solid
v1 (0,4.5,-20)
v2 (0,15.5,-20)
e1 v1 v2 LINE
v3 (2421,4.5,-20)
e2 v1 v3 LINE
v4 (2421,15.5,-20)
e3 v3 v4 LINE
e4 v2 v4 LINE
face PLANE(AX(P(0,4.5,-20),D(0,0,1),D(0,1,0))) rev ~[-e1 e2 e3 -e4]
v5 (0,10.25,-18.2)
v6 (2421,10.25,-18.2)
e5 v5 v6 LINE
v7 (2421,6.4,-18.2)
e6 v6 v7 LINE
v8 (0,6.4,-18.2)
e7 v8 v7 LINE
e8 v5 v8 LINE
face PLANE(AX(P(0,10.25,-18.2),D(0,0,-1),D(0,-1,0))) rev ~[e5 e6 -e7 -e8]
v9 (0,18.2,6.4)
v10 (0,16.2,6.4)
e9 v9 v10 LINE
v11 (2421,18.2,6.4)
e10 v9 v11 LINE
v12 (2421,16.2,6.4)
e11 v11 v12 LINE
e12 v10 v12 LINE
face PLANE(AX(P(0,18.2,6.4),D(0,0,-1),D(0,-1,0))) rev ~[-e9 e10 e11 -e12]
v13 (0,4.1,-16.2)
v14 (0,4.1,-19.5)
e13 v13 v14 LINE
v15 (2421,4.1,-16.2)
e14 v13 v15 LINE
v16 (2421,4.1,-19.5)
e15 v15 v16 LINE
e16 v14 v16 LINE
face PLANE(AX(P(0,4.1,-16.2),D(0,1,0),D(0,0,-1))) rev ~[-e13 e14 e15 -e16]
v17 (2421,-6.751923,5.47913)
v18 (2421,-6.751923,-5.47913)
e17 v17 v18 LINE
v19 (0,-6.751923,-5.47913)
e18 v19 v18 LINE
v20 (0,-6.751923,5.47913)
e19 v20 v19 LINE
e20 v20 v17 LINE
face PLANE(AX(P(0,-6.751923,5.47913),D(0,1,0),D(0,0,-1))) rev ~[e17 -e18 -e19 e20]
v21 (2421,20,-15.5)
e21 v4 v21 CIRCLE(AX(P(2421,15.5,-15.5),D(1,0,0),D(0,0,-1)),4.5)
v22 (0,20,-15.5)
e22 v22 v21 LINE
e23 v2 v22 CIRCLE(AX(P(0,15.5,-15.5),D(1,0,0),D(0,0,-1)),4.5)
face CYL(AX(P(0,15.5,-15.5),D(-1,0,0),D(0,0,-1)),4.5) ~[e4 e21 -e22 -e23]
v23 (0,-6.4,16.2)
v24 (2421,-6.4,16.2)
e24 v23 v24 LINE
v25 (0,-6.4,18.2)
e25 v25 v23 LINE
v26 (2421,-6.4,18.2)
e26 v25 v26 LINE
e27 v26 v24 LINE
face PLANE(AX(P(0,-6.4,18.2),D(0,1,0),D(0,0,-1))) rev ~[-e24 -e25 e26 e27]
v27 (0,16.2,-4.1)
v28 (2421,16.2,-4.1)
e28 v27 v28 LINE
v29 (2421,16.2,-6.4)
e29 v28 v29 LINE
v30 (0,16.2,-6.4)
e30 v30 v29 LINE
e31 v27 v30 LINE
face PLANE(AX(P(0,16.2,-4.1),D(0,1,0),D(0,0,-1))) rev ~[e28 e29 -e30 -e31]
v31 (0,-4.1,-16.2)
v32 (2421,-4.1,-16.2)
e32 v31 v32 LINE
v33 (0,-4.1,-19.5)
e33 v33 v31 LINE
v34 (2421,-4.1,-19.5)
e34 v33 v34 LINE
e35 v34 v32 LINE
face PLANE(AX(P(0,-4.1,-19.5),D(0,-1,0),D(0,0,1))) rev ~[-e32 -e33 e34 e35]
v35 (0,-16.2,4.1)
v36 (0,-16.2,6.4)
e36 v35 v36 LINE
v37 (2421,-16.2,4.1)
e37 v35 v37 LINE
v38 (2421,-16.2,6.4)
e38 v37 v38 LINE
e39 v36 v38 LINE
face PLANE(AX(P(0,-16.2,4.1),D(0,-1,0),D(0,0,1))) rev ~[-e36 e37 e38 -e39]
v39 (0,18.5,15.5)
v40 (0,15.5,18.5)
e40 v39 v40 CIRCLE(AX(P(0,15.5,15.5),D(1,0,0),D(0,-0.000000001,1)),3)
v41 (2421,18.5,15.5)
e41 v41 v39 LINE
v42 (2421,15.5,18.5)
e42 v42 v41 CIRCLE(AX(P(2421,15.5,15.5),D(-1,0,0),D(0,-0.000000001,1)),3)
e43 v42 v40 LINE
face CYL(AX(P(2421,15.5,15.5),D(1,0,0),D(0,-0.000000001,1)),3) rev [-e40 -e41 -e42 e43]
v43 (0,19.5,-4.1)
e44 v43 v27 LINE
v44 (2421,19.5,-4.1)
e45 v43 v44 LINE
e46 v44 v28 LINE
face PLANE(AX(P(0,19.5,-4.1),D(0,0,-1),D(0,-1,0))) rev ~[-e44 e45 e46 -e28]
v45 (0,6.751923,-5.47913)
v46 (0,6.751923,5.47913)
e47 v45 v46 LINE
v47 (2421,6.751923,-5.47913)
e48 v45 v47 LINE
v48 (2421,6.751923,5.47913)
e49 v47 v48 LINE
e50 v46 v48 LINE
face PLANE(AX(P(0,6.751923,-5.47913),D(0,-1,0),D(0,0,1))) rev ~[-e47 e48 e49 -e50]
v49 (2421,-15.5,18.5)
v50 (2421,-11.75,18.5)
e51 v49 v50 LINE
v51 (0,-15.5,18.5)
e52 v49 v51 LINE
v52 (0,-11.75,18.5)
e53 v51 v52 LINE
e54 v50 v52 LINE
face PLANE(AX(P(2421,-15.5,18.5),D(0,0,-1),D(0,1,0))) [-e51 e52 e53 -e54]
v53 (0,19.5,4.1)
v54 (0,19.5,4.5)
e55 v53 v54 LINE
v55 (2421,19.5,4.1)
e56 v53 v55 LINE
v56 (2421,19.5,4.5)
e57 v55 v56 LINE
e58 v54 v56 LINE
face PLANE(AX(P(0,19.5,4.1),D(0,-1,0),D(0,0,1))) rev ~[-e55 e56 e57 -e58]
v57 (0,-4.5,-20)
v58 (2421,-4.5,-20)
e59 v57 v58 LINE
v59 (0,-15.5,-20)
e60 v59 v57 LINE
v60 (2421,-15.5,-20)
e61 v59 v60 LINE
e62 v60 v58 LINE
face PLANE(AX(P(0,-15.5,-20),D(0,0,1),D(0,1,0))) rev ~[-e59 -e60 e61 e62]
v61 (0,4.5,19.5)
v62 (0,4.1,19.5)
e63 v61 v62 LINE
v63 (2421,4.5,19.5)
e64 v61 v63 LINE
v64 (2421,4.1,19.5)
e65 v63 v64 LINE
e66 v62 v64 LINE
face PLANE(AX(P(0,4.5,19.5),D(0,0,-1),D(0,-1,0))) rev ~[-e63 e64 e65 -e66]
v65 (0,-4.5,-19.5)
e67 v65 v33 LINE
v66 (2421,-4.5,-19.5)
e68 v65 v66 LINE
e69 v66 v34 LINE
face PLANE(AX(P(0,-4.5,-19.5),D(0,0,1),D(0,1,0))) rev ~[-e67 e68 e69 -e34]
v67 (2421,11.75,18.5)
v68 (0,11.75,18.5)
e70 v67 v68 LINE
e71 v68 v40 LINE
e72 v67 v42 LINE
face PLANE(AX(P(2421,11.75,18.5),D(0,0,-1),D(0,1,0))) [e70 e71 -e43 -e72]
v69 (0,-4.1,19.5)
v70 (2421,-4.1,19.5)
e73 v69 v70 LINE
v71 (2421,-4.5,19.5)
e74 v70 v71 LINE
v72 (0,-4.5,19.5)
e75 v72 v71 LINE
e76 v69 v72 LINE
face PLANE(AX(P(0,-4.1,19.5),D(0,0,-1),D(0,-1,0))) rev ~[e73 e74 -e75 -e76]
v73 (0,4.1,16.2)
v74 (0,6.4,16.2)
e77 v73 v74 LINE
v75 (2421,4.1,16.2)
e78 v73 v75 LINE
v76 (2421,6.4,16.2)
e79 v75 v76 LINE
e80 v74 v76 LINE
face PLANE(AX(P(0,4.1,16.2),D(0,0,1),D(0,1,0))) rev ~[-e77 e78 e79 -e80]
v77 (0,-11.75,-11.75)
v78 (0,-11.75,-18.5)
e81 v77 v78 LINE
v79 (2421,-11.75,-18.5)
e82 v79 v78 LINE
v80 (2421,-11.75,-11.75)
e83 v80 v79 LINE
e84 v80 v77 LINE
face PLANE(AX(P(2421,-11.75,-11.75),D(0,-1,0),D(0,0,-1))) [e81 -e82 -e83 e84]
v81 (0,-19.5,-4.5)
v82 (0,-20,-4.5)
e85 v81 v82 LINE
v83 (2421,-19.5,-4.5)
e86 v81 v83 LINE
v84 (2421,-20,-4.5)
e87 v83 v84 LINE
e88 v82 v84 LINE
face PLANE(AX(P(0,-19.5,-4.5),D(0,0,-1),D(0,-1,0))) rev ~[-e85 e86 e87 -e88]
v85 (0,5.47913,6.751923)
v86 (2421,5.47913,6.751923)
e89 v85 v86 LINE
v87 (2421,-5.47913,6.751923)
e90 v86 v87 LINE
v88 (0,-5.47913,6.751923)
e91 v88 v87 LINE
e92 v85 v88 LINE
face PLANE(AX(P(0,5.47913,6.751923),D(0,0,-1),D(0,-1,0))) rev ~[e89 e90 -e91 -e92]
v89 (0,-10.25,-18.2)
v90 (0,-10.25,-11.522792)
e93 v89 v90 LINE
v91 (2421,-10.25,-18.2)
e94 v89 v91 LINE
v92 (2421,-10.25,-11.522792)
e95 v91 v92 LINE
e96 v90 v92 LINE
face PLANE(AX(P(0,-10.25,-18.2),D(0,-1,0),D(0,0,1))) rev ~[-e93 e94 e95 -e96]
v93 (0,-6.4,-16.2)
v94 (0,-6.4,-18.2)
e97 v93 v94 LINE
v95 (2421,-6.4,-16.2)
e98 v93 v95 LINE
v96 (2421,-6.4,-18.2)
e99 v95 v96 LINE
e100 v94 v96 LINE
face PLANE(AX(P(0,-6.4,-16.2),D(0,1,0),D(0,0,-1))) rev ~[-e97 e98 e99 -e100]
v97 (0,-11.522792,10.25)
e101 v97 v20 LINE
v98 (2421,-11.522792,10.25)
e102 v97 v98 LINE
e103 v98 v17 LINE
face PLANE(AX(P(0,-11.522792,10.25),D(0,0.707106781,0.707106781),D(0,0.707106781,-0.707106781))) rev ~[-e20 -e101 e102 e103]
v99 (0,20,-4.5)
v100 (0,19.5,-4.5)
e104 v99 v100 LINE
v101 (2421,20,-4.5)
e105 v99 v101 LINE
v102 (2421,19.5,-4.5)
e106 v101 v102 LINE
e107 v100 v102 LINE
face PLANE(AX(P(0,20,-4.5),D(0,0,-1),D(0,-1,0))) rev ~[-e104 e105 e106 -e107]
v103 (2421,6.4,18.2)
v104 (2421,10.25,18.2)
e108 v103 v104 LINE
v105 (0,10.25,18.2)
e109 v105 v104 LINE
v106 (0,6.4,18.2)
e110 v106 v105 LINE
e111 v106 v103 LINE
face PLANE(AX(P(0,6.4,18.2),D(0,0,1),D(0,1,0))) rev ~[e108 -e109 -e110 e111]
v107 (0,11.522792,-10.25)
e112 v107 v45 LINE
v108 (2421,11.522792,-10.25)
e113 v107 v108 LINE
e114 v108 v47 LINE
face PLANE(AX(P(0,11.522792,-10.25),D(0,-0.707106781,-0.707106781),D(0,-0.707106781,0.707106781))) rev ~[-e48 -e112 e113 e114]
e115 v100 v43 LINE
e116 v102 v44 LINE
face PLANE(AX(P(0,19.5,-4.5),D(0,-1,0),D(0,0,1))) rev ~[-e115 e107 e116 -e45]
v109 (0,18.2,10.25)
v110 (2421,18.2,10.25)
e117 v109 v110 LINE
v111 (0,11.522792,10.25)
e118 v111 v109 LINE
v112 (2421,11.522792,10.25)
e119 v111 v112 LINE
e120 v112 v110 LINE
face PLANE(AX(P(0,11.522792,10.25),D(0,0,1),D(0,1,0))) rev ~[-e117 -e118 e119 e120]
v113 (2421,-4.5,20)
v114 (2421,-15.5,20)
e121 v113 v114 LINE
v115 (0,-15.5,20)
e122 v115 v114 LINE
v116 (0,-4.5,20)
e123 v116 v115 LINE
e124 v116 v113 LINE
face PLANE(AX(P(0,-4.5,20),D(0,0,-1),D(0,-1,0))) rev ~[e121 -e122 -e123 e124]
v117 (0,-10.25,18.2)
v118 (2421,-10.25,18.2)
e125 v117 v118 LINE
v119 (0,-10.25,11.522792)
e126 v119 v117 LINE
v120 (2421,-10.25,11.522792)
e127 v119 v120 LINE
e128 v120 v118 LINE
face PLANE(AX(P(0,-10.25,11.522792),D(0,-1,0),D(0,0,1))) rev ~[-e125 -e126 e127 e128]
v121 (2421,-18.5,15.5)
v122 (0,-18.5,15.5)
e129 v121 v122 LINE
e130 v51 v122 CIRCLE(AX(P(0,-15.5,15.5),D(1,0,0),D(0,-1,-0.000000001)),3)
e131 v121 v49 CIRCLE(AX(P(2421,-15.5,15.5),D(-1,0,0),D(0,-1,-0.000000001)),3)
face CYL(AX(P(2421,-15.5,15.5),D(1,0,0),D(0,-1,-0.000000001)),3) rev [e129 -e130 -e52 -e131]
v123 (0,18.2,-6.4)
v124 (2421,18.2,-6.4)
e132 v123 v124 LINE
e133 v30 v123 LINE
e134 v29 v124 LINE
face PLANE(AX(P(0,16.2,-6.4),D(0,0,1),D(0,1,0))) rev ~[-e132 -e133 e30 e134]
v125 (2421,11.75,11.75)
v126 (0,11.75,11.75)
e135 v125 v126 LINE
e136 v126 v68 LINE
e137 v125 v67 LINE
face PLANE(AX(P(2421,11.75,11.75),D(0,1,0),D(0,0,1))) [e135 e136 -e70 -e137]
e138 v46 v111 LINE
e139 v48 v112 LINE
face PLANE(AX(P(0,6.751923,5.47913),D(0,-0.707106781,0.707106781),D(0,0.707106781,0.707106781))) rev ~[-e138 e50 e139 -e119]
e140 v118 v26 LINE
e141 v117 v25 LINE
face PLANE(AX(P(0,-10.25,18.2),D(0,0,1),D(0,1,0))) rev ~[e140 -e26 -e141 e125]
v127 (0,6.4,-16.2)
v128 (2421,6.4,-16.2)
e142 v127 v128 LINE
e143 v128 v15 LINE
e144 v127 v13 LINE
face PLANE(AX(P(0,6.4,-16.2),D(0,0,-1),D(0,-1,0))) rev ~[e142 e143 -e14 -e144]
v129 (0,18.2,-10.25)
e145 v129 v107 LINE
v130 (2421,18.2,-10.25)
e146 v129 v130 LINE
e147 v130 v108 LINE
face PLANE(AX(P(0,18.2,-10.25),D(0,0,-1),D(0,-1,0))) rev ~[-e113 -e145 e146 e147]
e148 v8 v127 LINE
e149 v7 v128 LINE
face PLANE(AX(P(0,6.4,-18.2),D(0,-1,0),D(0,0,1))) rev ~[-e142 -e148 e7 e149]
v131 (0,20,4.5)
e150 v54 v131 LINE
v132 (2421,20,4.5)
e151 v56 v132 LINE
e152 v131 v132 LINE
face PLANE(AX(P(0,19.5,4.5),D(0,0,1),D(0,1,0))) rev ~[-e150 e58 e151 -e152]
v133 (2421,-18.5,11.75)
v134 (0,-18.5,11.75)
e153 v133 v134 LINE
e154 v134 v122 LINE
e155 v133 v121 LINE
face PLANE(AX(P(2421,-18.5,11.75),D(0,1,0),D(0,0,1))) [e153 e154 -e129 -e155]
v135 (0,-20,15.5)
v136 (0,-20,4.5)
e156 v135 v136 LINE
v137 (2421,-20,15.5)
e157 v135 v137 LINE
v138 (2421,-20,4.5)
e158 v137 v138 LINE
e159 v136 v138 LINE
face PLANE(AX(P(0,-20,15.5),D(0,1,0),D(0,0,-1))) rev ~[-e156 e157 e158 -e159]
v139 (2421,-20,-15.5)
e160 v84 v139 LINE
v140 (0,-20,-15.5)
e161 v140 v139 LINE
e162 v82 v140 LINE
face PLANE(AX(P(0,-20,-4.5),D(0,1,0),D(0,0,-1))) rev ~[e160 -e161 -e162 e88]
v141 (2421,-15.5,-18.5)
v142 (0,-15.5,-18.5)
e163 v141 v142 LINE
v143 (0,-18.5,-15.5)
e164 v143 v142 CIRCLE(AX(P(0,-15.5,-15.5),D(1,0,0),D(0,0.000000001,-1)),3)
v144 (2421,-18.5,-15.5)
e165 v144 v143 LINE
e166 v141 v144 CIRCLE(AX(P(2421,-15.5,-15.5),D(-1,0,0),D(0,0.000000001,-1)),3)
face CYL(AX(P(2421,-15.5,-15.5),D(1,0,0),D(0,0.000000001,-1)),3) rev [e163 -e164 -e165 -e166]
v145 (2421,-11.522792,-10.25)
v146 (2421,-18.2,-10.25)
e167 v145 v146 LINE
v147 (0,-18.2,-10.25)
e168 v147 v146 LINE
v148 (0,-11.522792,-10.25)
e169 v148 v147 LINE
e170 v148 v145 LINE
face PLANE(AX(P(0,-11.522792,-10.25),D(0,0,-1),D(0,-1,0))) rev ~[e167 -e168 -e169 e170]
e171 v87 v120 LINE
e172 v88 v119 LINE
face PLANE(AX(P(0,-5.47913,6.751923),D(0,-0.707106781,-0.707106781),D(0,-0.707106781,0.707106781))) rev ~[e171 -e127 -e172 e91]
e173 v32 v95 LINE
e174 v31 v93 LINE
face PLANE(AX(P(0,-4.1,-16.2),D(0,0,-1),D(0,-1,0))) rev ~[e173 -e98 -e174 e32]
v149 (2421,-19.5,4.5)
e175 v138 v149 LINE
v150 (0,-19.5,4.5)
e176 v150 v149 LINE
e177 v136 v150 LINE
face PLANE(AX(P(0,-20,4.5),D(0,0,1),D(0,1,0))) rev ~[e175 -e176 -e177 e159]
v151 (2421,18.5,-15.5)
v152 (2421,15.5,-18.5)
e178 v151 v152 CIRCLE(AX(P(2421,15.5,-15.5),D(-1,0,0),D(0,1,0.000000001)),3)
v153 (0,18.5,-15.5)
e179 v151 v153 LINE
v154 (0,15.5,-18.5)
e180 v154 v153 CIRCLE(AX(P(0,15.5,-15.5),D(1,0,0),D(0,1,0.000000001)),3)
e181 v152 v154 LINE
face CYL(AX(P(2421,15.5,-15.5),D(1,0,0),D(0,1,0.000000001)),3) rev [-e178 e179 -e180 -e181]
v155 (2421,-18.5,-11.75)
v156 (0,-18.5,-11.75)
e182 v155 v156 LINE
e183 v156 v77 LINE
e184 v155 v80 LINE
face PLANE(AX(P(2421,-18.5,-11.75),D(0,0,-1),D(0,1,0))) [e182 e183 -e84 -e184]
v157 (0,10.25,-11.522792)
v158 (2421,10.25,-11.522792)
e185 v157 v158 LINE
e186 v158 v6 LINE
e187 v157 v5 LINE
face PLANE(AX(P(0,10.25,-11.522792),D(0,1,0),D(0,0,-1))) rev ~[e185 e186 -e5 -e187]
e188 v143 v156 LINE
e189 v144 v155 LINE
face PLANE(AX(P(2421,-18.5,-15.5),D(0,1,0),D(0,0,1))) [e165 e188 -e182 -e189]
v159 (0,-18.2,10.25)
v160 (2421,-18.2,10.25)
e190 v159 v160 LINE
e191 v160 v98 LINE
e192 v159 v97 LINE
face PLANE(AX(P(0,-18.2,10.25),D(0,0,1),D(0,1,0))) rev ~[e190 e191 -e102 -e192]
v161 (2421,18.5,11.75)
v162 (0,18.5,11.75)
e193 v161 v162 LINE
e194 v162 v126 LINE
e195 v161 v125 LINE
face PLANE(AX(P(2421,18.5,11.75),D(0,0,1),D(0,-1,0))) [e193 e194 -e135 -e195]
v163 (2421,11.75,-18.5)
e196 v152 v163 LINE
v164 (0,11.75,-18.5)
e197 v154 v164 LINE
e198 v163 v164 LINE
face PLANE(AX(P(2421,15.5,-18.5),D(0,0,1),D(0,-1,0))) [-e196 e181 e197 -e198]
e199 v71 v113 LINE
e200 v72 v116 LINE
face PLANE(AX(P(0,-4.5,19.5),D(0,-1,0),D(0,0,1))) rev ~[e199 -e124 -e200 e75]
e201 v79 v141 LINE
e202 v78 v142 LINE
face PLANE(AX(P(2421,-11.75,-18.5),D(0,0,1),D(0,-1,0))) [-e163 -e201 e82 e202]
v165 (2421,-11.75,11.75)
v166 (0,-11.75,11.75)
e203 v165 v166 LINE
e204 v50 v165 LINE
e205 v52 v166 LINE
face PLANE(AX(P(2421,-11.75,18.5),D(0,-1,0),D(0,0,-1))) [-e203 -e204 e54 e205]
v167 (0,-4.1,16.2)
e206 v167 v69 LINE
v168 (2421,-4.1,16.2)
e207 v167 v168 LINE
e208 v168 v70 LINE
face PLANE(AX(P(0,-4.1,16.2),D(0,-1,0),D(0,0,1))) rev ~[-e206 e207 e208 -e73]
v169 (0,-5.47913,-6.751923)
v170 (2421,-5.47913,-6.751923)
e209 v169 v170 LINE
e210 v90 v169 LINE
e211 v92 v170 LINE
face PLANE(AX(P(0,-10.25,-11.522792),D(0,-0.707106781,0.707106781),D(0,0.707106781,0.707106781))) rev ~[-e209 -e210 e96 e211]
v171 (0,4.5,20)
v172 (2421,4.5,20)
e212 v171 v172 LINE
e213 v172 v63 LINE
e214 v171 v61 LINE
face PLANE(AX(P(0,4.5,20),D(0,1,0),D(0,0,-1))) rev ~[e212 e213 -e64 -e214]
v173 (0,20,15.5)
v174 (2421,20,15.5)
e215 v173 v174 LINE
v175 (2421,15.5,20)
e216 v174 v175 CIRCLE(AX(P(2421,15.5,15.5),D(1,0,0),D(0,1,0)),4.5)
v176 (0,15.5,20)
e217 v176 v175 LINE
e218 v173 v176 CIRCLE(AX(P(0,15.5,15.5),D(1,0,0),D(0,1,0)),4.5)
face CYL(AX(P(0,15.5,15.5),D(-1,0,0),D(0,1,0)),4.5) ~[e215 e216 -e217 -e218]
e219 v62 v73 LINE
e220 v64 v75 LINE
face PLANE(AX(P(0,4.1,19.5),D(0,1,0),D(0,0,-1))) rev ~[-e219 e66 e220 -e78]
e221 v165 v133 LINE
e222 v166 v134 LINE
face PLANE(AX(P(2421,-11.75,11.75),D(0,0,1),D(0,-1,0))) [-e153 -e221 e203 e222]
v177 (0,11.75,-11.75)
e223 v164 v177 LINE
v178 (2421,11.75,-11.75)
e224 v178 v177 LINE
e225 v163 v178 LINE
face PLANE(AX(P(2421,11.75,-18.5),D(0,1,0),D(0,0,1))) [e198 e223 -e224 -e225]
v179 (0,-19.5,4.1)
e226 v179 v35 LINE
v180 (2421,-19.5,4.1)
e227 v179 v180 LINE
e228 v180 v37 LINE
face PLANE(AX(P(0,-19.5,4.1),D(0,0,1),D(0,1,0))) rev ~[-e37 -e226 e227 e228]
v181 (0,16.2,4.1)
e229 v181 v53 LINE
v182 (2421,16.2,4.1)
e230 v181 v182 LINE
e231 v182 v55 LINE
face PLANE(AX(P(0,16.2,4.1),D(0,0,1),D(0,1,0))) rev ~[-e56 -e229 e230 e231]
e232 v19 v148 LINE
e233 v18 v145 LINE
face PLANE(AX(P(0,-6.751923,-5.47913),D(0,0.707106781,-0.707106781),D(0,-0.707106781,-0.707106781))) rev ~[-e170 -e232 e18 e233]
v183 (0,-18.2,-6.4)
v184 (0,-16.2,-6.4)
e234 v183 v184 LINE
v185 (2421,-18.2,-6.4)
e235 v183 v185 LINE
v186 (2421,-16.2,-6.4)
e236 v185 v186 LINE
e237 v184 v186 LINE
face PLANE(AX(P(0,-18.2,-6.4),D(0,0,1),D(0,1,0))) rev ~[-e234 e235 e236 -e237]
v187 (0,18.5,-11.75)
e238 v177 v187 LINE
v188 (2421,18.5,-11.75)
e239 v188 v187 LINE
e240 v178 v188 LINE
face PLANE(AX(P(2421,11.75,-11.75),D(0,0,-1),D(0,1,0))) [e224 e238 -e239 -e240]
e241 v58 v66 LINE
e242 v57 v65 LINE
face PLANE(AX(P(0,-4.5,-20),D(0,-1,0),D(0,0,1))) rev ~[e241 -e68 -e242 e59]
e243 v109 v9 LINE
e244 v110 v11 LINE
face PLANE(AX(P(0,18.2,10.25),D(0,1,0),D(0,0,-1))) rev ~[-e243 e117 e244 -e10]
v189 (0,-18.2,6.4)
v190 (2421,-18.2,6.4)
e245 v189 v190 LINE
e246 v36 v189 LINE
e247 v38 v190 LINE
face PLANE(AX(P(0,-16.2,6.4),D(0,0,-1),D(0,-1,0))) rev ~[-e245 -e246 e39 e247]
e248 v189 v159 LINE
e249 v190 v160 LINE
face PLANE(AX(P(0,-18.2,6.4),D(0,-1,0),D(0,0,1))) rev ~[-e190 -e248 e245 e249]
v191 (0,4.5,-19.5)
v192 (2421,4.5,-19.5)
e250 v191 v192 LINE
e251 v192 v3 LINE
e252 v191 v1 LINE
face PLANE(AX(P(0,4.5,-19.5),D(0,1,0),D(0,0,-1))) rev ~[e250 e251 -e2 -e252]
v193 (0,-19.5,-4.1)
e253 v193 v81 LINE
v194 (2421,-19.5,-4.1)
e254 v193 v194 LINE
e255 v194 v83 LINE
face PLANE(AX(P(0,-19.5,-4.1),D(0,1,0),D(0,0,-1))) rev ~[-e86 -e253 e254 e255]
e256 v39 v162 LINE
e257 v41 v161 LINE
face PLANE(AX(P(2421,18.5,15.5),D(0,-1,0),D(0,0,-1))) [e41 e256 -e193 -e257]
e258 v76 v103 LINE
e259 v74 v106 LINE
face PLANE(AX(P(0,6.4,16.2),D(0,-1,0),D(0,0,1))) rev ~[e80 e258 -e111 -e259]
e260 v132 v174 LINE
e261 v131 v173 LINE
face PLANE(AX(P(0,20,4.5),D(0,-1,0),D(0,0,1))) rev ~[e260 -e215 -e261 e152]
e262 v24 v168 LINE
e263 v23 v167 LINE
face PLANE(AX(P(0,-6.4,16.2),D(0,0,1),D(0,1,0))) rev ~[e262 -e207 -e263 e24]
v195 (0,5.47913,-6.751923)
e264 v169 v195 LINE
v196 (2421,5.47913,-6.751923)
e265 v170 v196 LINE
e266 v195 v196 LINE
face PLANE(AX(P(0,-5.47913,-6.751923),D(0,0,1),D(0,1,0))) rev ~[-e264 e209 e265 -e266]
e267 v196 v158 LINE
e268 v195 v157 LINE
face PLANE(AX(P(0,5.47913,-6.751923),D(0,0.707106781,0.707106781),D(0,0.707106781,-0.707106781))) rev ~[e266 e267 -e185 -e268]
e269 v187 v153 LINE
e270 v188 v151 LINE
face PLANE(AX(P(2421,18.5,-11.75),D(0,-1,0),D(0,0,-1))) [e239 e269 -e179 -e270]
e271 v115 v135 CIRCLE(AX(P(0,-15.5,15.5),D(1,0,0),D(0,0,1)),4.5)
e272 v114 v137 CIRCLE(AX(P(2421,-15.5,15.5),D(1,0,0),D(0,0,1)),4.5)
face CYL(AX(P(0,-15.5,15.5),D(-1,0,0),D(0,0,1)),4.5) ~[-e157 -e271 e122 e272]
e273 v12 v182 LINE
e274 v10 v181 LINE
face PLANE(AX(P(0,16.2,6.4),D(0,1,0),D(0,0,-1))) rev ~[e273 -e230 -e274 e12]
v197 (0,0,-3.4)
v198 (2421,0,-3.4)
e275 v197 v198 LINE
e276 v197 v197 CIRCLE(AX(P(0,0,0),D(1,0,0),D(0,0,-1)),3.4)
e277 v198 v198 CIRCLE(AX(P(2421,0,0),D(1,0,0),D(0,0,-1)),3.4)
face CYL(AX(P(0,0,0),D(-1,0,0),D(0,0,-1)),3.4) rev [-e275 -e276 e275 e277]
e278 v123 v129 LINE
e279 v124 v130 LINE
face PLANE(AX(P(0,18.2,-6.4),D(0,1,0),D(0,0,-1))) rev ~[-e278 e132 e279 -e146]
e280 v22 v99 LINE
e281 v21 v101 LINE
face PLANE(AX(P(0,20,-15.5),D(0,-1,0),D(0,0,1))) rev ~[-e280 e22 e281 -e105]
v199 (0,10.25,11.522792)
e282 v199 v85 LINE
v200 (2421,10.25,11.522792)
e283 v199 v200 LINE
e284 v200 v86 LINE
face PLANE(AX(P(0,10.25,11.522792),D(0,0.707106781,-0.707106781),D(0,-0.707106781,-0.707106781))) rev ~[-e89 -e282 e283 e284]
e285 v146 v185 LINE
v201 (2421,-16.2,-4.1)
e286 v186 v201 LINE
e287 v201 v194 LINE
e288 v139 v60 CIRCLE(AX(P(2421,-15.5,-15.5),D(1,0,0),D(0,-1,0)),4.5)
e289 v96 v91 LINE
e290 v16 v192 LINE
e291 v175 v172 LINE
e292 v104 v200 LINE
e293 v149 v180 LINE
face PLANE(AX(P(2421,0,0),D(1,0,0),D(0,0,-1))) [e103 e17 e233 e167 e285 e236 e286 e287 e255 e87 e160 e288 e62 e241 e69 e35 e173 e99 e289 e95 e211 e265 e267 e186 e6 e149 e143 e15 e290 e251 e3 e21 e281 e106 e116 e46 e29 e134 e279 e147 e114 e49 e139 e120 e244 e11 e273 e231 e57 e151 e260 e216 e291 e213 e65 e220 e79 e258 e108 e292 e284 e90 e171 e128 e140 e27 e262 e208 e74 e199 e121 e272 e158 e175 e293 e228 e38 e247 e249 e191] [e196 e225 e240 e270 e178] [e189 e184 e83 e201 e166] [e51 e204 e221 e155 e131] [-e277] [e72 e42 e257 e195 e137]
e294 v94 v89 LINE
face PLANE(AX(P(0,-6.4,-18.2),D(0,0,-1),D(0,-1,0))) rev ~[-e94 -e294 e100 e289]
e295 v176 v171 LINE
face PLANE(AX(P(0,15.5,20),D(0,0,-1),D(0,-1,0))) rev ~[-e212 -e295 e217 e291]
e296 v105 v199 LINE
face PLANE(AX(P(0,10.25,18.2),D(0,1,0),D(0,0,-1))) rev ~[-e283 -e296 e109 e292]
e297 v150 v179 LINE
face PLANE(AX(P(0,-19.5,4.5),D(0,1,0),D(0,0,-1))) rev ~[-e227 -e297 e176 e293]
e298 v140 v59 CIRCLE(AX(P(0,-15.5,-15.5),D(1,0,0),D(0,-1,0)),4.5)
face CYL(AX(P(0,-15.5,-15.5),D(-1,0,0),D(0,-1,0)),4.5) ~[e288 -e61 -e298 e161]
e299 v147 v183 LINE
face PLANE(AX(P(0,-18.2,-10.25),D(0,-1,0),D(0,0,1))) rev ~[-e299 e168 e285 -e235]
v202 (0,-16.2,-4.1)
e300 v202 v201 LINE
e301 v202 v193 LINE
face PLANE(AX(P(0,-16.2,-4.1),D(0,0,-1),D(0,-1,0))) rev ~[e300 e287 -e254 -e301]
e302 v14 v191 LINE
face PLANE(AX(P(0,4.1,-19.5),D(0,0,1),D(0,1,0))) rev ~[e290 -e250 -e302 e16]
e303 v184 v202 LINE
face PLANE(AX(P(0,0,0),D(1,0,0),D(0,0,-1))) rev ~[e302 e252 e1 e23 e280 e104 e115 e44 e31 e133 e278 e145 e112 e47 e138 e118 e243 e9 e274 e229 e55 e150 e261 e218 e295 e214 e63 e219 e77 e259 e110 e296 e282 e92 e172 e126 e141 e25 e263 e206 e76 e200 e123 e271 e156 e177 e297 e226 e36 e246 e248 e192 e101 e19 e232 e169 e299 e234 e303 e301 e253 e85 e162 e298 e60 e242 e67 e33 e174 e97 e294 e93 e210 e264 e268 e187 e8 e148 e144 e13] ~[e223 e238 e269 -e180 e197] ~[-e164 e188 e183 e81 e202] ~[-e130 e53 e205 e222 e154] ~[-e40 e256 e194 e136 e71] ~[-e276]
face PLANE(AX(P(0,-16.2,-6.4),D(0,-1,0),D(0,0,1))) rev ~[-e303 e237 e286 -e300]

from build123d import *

# Parameters (mm, degrees)
SKETCH_3_R          = 3.4
EXTRUDE_1_DEPTH     = 2421
CUT_EXTRUDE_3_DEPTH = 3297


with BuildPart() as part:
    # 草图3 → 凸台-拉伸1 (new body)
    with BuildSketch(Plane(origin=(0, 0, 0), x_dir=(0, 0, -1), z_dir=(1, 0, 0))):
        with BuildLine():
            Line((-15.5, -20), (-4.5, -20))
            Line((-4.5, -20), (-4.5, -19.5))
            Line((-4.5, -19.5), (-4.1, -19.5))
            Line((-4.1, -19.5), (-4.1, -16.2))
            Line((-4.1, -16.2), (-6.4, -16.2))
            Line((-6.4, -16.2), (-6.4, -18.2))
            Line((-6.4, -18.2), (-10.25, -18.2))
            Line((-10.25, -18.2), (-10.25, -11.522792206))
            Line((-10.25, -11.522792206), (-5.479130441, -6.751922647))
            Line((-5.479130441, -6.751922647), (5.479130441, -6.751922647))
            Line((5.479130441, -6.751922647), (10.25, -11.522792206))
            Line((10.25, -11.522792206), (10.25, -18.2))
            Line((10.25, -18.2), (6.4, -18.2))
            Line((6.4, -18.2), (6.4, -16.2))
            Line((6.4, -16.2), (4.1, -16.2))
            Line((4.1, -16.2), (4.1, -19.5))
            Line((4.1, -19.5), (4.5, -19.5))
            Line((4.5, -19.5), (4.5, -20))
            Line((4.5, -20), (15.5, -20))
            ThreePointArc((15.5, -20), (18.681980515, -18.681980515), (20, -15.5))
            Line((20, -15.5), (20, -4.5))
            Line((20, -4.5), (19.5, -4.5))
            Line((19.5, -4.5), (19.5, -4.1))
            Line((19.5, -4.1), (16.2, -4.1))
            Line((16.2, -4.1), (16.2, -6.4))
            Line((16.2, -6.4), (18.2, -6.4))
            Line((18.2, -6.4), (18.2, -10.25))
            Line((18.2, -10.25), (11.522792206, -10.25))
            Line((11.522792206, -10.25), (6.751922647, -5.479130441))
            Line((6.751922647, -5.479130441), (6.751922647, 5.479130441))
            Line((6.751922647, 5.479130441), (11.522792206, 10.25))
            Line((11.522792206, 10.25), (18.2, 10.25))
            Line((18.2, 10.25), (18.2, 6.4))
            Line((18.2, 6.4), (16.2, 6.4))
            Line((16.2, 6.4), (16.2, 4.1))
            Line((16.2, 4.1), (19.5, 4.1))
            Line((19.5, 4.1), (19.5, 4.5))
            Line((19.5, 4.5), (20, 4.5))
            Line((20, 4.5), (20, 15.5))
            ThreePointArc((20, 15.5), (18.681980515, 18.681980515), (15.5, 20))
            Line((15.5, 20), (4.5, 20))
            Line((4.5, 20), (4.5, 19.5))
            Line((4.5, 19.5), (4.1, 19.5))
            Line((4.1, 19.5), (4.1, 16.2))
            Line((4.1, 16.2), (6.4, 16.2))
            Line((6.4, 16.2), (6.4, 18.2))
            Line((6.4, 18.2), (10.25, 18.2))
            Line((10.25, 18.2), (10.25, 11.522792206))
            Line((10.25, 11.522792206), (5.479130441, 6.751922647))
            Line((5.479130441, 6.751922647), (-5.479130441, 6.751922647))
            Line((-5.479130441, 6.751922647), (-10.25, 11.522792206))
            Line((-10.25, 11.522792206), (-10.25, 18.2))
            Line((-10.25, 18.2), (-6.4, 18.2))
            Line((-6.4, 18.2), (-6.4, 16.2))
            Line((-6.4, 16.2), (-4.1, 16.2))
            Line((-4.1, 16.2), (-4.1, 19.5))
            Line((-4.1, 19.5), (-4.5, 19.5))
            Line((-4.5, 19.5), (-4.5, 20))
            Line((-4.5, 20), (-15.5, 20))
            ThreePointArc((-15.5, 20), (-18.681980515, 18.681980515), (-20, 15.5))
            Line((-20, 15.5), (-20, 4.5))
            Line((-20, 4.5), (-19.5, 4.5))
            Line((-19.5, 4.5), (-19.5, 4.1))
            Line((-19.5, 4.1), (-16.2, 4.1))
            Line((-16.2, 4.1), (-16.2, 6.4))
            Line((-16.2, 6.4), (-18.2, 6.4))
            Line((-18.2, 6.4), (-18.2, 10.25))
            Line((-18.2, 10.25), (-11.522792206, 10.25))
            Line((-11.522792206, 10.25), (-6.751922647, 5.479130441))
            Line((-6.751922647, 5.479130441), (-6.751922647, -5.479130441))
            Line((-6.751922647, -5.479130441), (-11.522792206, -10.25))
            Line((-11.522792206, -10.25), (-18.2, -10.25))
            Line((-18.2, -10.25), (-18.2, -6.4))
            Line((-18.2, -6.4), (-16.2, -6.4))
            Line((-16.2, -6.4), (-16.2, -4.1))
            Line((-16.2, -4.1), (-19.5, -4.1))
            Line((-19.5, -4.1), (-19.5, -4.5))
            Line((-19.5, -4.5), (-20, -4.5))
            Line((-20, -4.5), (-20, -15.5))
            ThreePointArc((-20, -15.5), (-18.681980515, -18.681980515), (-15.5, -20))
        make_face()
        Circle(SKETCH_3_R, mode=Mode.SUBTRACT)
    extrude(amount=EXTRUDE_1_DEPTH)

    # 草图4 → 切除-拉伸3 (cut)
    with BuildSketch(Plane(origin=(2421, -20, 15.5), x_dir=(0, 0, 1), z_dir=(-1, 0, 0))):
        with BuildLine():
            Line((-3.75, 31.75), (3, 31.75))
            Line((3, 31.75), (3, 35.5))
            ThreePointArc((3, 35.5), (2.121320344, 37.621320344), (0, 38.5))
            Line((0, 38.5), (-3.75, 38.5))
            Line((-3.75, 38.5), (-3.75, 31.75))
        make_face()
        with BuildLine():
            Line((-3.75, 8.25), (-3.75, 1.5))
            Line((-3.75, 1.5), (0, 1.5))
            ThreePointArc((0, 1.5), (2.121320344, 2.378679656), (3, 4.5))
            Line((3, 4.5), (3, 8.25))
            Line((3, 8.25), (-3.75, 8.25))
        make_face()
        with BuildLine():
            Line((-27.25, 8.25), (-34, 8.25))
            Line((-34, 8.25), (-34, 4.5))
            ThreePointArc((-34, 4.5), (-33.121320344, 2.378679656), (-31, 1.5))
            Line((-31, 1.5), (-27.25, 1.5))
            Line((-27.25, 1.5), (-27.25, 8.25))
        make_face()
        with BuildLine():
            Line((-27.25, 31.75), (-27.25, 38.5))
            Line((-27.25, 38.5), (-31, 38.5))
            ThreePointArc((-31, 38.5), (-33.121320344, 37.621320344), (-34, 35.5))
            Line((-34, 35.5), (-34, 31.75))
            Line((-34, 31.75), (-27.25, 31.75))
        make_face()
    extrude(amount=CUT_EXTRUDE_3_DEPTH, mode=Mode.SUBTRACT)


solid = part.part
